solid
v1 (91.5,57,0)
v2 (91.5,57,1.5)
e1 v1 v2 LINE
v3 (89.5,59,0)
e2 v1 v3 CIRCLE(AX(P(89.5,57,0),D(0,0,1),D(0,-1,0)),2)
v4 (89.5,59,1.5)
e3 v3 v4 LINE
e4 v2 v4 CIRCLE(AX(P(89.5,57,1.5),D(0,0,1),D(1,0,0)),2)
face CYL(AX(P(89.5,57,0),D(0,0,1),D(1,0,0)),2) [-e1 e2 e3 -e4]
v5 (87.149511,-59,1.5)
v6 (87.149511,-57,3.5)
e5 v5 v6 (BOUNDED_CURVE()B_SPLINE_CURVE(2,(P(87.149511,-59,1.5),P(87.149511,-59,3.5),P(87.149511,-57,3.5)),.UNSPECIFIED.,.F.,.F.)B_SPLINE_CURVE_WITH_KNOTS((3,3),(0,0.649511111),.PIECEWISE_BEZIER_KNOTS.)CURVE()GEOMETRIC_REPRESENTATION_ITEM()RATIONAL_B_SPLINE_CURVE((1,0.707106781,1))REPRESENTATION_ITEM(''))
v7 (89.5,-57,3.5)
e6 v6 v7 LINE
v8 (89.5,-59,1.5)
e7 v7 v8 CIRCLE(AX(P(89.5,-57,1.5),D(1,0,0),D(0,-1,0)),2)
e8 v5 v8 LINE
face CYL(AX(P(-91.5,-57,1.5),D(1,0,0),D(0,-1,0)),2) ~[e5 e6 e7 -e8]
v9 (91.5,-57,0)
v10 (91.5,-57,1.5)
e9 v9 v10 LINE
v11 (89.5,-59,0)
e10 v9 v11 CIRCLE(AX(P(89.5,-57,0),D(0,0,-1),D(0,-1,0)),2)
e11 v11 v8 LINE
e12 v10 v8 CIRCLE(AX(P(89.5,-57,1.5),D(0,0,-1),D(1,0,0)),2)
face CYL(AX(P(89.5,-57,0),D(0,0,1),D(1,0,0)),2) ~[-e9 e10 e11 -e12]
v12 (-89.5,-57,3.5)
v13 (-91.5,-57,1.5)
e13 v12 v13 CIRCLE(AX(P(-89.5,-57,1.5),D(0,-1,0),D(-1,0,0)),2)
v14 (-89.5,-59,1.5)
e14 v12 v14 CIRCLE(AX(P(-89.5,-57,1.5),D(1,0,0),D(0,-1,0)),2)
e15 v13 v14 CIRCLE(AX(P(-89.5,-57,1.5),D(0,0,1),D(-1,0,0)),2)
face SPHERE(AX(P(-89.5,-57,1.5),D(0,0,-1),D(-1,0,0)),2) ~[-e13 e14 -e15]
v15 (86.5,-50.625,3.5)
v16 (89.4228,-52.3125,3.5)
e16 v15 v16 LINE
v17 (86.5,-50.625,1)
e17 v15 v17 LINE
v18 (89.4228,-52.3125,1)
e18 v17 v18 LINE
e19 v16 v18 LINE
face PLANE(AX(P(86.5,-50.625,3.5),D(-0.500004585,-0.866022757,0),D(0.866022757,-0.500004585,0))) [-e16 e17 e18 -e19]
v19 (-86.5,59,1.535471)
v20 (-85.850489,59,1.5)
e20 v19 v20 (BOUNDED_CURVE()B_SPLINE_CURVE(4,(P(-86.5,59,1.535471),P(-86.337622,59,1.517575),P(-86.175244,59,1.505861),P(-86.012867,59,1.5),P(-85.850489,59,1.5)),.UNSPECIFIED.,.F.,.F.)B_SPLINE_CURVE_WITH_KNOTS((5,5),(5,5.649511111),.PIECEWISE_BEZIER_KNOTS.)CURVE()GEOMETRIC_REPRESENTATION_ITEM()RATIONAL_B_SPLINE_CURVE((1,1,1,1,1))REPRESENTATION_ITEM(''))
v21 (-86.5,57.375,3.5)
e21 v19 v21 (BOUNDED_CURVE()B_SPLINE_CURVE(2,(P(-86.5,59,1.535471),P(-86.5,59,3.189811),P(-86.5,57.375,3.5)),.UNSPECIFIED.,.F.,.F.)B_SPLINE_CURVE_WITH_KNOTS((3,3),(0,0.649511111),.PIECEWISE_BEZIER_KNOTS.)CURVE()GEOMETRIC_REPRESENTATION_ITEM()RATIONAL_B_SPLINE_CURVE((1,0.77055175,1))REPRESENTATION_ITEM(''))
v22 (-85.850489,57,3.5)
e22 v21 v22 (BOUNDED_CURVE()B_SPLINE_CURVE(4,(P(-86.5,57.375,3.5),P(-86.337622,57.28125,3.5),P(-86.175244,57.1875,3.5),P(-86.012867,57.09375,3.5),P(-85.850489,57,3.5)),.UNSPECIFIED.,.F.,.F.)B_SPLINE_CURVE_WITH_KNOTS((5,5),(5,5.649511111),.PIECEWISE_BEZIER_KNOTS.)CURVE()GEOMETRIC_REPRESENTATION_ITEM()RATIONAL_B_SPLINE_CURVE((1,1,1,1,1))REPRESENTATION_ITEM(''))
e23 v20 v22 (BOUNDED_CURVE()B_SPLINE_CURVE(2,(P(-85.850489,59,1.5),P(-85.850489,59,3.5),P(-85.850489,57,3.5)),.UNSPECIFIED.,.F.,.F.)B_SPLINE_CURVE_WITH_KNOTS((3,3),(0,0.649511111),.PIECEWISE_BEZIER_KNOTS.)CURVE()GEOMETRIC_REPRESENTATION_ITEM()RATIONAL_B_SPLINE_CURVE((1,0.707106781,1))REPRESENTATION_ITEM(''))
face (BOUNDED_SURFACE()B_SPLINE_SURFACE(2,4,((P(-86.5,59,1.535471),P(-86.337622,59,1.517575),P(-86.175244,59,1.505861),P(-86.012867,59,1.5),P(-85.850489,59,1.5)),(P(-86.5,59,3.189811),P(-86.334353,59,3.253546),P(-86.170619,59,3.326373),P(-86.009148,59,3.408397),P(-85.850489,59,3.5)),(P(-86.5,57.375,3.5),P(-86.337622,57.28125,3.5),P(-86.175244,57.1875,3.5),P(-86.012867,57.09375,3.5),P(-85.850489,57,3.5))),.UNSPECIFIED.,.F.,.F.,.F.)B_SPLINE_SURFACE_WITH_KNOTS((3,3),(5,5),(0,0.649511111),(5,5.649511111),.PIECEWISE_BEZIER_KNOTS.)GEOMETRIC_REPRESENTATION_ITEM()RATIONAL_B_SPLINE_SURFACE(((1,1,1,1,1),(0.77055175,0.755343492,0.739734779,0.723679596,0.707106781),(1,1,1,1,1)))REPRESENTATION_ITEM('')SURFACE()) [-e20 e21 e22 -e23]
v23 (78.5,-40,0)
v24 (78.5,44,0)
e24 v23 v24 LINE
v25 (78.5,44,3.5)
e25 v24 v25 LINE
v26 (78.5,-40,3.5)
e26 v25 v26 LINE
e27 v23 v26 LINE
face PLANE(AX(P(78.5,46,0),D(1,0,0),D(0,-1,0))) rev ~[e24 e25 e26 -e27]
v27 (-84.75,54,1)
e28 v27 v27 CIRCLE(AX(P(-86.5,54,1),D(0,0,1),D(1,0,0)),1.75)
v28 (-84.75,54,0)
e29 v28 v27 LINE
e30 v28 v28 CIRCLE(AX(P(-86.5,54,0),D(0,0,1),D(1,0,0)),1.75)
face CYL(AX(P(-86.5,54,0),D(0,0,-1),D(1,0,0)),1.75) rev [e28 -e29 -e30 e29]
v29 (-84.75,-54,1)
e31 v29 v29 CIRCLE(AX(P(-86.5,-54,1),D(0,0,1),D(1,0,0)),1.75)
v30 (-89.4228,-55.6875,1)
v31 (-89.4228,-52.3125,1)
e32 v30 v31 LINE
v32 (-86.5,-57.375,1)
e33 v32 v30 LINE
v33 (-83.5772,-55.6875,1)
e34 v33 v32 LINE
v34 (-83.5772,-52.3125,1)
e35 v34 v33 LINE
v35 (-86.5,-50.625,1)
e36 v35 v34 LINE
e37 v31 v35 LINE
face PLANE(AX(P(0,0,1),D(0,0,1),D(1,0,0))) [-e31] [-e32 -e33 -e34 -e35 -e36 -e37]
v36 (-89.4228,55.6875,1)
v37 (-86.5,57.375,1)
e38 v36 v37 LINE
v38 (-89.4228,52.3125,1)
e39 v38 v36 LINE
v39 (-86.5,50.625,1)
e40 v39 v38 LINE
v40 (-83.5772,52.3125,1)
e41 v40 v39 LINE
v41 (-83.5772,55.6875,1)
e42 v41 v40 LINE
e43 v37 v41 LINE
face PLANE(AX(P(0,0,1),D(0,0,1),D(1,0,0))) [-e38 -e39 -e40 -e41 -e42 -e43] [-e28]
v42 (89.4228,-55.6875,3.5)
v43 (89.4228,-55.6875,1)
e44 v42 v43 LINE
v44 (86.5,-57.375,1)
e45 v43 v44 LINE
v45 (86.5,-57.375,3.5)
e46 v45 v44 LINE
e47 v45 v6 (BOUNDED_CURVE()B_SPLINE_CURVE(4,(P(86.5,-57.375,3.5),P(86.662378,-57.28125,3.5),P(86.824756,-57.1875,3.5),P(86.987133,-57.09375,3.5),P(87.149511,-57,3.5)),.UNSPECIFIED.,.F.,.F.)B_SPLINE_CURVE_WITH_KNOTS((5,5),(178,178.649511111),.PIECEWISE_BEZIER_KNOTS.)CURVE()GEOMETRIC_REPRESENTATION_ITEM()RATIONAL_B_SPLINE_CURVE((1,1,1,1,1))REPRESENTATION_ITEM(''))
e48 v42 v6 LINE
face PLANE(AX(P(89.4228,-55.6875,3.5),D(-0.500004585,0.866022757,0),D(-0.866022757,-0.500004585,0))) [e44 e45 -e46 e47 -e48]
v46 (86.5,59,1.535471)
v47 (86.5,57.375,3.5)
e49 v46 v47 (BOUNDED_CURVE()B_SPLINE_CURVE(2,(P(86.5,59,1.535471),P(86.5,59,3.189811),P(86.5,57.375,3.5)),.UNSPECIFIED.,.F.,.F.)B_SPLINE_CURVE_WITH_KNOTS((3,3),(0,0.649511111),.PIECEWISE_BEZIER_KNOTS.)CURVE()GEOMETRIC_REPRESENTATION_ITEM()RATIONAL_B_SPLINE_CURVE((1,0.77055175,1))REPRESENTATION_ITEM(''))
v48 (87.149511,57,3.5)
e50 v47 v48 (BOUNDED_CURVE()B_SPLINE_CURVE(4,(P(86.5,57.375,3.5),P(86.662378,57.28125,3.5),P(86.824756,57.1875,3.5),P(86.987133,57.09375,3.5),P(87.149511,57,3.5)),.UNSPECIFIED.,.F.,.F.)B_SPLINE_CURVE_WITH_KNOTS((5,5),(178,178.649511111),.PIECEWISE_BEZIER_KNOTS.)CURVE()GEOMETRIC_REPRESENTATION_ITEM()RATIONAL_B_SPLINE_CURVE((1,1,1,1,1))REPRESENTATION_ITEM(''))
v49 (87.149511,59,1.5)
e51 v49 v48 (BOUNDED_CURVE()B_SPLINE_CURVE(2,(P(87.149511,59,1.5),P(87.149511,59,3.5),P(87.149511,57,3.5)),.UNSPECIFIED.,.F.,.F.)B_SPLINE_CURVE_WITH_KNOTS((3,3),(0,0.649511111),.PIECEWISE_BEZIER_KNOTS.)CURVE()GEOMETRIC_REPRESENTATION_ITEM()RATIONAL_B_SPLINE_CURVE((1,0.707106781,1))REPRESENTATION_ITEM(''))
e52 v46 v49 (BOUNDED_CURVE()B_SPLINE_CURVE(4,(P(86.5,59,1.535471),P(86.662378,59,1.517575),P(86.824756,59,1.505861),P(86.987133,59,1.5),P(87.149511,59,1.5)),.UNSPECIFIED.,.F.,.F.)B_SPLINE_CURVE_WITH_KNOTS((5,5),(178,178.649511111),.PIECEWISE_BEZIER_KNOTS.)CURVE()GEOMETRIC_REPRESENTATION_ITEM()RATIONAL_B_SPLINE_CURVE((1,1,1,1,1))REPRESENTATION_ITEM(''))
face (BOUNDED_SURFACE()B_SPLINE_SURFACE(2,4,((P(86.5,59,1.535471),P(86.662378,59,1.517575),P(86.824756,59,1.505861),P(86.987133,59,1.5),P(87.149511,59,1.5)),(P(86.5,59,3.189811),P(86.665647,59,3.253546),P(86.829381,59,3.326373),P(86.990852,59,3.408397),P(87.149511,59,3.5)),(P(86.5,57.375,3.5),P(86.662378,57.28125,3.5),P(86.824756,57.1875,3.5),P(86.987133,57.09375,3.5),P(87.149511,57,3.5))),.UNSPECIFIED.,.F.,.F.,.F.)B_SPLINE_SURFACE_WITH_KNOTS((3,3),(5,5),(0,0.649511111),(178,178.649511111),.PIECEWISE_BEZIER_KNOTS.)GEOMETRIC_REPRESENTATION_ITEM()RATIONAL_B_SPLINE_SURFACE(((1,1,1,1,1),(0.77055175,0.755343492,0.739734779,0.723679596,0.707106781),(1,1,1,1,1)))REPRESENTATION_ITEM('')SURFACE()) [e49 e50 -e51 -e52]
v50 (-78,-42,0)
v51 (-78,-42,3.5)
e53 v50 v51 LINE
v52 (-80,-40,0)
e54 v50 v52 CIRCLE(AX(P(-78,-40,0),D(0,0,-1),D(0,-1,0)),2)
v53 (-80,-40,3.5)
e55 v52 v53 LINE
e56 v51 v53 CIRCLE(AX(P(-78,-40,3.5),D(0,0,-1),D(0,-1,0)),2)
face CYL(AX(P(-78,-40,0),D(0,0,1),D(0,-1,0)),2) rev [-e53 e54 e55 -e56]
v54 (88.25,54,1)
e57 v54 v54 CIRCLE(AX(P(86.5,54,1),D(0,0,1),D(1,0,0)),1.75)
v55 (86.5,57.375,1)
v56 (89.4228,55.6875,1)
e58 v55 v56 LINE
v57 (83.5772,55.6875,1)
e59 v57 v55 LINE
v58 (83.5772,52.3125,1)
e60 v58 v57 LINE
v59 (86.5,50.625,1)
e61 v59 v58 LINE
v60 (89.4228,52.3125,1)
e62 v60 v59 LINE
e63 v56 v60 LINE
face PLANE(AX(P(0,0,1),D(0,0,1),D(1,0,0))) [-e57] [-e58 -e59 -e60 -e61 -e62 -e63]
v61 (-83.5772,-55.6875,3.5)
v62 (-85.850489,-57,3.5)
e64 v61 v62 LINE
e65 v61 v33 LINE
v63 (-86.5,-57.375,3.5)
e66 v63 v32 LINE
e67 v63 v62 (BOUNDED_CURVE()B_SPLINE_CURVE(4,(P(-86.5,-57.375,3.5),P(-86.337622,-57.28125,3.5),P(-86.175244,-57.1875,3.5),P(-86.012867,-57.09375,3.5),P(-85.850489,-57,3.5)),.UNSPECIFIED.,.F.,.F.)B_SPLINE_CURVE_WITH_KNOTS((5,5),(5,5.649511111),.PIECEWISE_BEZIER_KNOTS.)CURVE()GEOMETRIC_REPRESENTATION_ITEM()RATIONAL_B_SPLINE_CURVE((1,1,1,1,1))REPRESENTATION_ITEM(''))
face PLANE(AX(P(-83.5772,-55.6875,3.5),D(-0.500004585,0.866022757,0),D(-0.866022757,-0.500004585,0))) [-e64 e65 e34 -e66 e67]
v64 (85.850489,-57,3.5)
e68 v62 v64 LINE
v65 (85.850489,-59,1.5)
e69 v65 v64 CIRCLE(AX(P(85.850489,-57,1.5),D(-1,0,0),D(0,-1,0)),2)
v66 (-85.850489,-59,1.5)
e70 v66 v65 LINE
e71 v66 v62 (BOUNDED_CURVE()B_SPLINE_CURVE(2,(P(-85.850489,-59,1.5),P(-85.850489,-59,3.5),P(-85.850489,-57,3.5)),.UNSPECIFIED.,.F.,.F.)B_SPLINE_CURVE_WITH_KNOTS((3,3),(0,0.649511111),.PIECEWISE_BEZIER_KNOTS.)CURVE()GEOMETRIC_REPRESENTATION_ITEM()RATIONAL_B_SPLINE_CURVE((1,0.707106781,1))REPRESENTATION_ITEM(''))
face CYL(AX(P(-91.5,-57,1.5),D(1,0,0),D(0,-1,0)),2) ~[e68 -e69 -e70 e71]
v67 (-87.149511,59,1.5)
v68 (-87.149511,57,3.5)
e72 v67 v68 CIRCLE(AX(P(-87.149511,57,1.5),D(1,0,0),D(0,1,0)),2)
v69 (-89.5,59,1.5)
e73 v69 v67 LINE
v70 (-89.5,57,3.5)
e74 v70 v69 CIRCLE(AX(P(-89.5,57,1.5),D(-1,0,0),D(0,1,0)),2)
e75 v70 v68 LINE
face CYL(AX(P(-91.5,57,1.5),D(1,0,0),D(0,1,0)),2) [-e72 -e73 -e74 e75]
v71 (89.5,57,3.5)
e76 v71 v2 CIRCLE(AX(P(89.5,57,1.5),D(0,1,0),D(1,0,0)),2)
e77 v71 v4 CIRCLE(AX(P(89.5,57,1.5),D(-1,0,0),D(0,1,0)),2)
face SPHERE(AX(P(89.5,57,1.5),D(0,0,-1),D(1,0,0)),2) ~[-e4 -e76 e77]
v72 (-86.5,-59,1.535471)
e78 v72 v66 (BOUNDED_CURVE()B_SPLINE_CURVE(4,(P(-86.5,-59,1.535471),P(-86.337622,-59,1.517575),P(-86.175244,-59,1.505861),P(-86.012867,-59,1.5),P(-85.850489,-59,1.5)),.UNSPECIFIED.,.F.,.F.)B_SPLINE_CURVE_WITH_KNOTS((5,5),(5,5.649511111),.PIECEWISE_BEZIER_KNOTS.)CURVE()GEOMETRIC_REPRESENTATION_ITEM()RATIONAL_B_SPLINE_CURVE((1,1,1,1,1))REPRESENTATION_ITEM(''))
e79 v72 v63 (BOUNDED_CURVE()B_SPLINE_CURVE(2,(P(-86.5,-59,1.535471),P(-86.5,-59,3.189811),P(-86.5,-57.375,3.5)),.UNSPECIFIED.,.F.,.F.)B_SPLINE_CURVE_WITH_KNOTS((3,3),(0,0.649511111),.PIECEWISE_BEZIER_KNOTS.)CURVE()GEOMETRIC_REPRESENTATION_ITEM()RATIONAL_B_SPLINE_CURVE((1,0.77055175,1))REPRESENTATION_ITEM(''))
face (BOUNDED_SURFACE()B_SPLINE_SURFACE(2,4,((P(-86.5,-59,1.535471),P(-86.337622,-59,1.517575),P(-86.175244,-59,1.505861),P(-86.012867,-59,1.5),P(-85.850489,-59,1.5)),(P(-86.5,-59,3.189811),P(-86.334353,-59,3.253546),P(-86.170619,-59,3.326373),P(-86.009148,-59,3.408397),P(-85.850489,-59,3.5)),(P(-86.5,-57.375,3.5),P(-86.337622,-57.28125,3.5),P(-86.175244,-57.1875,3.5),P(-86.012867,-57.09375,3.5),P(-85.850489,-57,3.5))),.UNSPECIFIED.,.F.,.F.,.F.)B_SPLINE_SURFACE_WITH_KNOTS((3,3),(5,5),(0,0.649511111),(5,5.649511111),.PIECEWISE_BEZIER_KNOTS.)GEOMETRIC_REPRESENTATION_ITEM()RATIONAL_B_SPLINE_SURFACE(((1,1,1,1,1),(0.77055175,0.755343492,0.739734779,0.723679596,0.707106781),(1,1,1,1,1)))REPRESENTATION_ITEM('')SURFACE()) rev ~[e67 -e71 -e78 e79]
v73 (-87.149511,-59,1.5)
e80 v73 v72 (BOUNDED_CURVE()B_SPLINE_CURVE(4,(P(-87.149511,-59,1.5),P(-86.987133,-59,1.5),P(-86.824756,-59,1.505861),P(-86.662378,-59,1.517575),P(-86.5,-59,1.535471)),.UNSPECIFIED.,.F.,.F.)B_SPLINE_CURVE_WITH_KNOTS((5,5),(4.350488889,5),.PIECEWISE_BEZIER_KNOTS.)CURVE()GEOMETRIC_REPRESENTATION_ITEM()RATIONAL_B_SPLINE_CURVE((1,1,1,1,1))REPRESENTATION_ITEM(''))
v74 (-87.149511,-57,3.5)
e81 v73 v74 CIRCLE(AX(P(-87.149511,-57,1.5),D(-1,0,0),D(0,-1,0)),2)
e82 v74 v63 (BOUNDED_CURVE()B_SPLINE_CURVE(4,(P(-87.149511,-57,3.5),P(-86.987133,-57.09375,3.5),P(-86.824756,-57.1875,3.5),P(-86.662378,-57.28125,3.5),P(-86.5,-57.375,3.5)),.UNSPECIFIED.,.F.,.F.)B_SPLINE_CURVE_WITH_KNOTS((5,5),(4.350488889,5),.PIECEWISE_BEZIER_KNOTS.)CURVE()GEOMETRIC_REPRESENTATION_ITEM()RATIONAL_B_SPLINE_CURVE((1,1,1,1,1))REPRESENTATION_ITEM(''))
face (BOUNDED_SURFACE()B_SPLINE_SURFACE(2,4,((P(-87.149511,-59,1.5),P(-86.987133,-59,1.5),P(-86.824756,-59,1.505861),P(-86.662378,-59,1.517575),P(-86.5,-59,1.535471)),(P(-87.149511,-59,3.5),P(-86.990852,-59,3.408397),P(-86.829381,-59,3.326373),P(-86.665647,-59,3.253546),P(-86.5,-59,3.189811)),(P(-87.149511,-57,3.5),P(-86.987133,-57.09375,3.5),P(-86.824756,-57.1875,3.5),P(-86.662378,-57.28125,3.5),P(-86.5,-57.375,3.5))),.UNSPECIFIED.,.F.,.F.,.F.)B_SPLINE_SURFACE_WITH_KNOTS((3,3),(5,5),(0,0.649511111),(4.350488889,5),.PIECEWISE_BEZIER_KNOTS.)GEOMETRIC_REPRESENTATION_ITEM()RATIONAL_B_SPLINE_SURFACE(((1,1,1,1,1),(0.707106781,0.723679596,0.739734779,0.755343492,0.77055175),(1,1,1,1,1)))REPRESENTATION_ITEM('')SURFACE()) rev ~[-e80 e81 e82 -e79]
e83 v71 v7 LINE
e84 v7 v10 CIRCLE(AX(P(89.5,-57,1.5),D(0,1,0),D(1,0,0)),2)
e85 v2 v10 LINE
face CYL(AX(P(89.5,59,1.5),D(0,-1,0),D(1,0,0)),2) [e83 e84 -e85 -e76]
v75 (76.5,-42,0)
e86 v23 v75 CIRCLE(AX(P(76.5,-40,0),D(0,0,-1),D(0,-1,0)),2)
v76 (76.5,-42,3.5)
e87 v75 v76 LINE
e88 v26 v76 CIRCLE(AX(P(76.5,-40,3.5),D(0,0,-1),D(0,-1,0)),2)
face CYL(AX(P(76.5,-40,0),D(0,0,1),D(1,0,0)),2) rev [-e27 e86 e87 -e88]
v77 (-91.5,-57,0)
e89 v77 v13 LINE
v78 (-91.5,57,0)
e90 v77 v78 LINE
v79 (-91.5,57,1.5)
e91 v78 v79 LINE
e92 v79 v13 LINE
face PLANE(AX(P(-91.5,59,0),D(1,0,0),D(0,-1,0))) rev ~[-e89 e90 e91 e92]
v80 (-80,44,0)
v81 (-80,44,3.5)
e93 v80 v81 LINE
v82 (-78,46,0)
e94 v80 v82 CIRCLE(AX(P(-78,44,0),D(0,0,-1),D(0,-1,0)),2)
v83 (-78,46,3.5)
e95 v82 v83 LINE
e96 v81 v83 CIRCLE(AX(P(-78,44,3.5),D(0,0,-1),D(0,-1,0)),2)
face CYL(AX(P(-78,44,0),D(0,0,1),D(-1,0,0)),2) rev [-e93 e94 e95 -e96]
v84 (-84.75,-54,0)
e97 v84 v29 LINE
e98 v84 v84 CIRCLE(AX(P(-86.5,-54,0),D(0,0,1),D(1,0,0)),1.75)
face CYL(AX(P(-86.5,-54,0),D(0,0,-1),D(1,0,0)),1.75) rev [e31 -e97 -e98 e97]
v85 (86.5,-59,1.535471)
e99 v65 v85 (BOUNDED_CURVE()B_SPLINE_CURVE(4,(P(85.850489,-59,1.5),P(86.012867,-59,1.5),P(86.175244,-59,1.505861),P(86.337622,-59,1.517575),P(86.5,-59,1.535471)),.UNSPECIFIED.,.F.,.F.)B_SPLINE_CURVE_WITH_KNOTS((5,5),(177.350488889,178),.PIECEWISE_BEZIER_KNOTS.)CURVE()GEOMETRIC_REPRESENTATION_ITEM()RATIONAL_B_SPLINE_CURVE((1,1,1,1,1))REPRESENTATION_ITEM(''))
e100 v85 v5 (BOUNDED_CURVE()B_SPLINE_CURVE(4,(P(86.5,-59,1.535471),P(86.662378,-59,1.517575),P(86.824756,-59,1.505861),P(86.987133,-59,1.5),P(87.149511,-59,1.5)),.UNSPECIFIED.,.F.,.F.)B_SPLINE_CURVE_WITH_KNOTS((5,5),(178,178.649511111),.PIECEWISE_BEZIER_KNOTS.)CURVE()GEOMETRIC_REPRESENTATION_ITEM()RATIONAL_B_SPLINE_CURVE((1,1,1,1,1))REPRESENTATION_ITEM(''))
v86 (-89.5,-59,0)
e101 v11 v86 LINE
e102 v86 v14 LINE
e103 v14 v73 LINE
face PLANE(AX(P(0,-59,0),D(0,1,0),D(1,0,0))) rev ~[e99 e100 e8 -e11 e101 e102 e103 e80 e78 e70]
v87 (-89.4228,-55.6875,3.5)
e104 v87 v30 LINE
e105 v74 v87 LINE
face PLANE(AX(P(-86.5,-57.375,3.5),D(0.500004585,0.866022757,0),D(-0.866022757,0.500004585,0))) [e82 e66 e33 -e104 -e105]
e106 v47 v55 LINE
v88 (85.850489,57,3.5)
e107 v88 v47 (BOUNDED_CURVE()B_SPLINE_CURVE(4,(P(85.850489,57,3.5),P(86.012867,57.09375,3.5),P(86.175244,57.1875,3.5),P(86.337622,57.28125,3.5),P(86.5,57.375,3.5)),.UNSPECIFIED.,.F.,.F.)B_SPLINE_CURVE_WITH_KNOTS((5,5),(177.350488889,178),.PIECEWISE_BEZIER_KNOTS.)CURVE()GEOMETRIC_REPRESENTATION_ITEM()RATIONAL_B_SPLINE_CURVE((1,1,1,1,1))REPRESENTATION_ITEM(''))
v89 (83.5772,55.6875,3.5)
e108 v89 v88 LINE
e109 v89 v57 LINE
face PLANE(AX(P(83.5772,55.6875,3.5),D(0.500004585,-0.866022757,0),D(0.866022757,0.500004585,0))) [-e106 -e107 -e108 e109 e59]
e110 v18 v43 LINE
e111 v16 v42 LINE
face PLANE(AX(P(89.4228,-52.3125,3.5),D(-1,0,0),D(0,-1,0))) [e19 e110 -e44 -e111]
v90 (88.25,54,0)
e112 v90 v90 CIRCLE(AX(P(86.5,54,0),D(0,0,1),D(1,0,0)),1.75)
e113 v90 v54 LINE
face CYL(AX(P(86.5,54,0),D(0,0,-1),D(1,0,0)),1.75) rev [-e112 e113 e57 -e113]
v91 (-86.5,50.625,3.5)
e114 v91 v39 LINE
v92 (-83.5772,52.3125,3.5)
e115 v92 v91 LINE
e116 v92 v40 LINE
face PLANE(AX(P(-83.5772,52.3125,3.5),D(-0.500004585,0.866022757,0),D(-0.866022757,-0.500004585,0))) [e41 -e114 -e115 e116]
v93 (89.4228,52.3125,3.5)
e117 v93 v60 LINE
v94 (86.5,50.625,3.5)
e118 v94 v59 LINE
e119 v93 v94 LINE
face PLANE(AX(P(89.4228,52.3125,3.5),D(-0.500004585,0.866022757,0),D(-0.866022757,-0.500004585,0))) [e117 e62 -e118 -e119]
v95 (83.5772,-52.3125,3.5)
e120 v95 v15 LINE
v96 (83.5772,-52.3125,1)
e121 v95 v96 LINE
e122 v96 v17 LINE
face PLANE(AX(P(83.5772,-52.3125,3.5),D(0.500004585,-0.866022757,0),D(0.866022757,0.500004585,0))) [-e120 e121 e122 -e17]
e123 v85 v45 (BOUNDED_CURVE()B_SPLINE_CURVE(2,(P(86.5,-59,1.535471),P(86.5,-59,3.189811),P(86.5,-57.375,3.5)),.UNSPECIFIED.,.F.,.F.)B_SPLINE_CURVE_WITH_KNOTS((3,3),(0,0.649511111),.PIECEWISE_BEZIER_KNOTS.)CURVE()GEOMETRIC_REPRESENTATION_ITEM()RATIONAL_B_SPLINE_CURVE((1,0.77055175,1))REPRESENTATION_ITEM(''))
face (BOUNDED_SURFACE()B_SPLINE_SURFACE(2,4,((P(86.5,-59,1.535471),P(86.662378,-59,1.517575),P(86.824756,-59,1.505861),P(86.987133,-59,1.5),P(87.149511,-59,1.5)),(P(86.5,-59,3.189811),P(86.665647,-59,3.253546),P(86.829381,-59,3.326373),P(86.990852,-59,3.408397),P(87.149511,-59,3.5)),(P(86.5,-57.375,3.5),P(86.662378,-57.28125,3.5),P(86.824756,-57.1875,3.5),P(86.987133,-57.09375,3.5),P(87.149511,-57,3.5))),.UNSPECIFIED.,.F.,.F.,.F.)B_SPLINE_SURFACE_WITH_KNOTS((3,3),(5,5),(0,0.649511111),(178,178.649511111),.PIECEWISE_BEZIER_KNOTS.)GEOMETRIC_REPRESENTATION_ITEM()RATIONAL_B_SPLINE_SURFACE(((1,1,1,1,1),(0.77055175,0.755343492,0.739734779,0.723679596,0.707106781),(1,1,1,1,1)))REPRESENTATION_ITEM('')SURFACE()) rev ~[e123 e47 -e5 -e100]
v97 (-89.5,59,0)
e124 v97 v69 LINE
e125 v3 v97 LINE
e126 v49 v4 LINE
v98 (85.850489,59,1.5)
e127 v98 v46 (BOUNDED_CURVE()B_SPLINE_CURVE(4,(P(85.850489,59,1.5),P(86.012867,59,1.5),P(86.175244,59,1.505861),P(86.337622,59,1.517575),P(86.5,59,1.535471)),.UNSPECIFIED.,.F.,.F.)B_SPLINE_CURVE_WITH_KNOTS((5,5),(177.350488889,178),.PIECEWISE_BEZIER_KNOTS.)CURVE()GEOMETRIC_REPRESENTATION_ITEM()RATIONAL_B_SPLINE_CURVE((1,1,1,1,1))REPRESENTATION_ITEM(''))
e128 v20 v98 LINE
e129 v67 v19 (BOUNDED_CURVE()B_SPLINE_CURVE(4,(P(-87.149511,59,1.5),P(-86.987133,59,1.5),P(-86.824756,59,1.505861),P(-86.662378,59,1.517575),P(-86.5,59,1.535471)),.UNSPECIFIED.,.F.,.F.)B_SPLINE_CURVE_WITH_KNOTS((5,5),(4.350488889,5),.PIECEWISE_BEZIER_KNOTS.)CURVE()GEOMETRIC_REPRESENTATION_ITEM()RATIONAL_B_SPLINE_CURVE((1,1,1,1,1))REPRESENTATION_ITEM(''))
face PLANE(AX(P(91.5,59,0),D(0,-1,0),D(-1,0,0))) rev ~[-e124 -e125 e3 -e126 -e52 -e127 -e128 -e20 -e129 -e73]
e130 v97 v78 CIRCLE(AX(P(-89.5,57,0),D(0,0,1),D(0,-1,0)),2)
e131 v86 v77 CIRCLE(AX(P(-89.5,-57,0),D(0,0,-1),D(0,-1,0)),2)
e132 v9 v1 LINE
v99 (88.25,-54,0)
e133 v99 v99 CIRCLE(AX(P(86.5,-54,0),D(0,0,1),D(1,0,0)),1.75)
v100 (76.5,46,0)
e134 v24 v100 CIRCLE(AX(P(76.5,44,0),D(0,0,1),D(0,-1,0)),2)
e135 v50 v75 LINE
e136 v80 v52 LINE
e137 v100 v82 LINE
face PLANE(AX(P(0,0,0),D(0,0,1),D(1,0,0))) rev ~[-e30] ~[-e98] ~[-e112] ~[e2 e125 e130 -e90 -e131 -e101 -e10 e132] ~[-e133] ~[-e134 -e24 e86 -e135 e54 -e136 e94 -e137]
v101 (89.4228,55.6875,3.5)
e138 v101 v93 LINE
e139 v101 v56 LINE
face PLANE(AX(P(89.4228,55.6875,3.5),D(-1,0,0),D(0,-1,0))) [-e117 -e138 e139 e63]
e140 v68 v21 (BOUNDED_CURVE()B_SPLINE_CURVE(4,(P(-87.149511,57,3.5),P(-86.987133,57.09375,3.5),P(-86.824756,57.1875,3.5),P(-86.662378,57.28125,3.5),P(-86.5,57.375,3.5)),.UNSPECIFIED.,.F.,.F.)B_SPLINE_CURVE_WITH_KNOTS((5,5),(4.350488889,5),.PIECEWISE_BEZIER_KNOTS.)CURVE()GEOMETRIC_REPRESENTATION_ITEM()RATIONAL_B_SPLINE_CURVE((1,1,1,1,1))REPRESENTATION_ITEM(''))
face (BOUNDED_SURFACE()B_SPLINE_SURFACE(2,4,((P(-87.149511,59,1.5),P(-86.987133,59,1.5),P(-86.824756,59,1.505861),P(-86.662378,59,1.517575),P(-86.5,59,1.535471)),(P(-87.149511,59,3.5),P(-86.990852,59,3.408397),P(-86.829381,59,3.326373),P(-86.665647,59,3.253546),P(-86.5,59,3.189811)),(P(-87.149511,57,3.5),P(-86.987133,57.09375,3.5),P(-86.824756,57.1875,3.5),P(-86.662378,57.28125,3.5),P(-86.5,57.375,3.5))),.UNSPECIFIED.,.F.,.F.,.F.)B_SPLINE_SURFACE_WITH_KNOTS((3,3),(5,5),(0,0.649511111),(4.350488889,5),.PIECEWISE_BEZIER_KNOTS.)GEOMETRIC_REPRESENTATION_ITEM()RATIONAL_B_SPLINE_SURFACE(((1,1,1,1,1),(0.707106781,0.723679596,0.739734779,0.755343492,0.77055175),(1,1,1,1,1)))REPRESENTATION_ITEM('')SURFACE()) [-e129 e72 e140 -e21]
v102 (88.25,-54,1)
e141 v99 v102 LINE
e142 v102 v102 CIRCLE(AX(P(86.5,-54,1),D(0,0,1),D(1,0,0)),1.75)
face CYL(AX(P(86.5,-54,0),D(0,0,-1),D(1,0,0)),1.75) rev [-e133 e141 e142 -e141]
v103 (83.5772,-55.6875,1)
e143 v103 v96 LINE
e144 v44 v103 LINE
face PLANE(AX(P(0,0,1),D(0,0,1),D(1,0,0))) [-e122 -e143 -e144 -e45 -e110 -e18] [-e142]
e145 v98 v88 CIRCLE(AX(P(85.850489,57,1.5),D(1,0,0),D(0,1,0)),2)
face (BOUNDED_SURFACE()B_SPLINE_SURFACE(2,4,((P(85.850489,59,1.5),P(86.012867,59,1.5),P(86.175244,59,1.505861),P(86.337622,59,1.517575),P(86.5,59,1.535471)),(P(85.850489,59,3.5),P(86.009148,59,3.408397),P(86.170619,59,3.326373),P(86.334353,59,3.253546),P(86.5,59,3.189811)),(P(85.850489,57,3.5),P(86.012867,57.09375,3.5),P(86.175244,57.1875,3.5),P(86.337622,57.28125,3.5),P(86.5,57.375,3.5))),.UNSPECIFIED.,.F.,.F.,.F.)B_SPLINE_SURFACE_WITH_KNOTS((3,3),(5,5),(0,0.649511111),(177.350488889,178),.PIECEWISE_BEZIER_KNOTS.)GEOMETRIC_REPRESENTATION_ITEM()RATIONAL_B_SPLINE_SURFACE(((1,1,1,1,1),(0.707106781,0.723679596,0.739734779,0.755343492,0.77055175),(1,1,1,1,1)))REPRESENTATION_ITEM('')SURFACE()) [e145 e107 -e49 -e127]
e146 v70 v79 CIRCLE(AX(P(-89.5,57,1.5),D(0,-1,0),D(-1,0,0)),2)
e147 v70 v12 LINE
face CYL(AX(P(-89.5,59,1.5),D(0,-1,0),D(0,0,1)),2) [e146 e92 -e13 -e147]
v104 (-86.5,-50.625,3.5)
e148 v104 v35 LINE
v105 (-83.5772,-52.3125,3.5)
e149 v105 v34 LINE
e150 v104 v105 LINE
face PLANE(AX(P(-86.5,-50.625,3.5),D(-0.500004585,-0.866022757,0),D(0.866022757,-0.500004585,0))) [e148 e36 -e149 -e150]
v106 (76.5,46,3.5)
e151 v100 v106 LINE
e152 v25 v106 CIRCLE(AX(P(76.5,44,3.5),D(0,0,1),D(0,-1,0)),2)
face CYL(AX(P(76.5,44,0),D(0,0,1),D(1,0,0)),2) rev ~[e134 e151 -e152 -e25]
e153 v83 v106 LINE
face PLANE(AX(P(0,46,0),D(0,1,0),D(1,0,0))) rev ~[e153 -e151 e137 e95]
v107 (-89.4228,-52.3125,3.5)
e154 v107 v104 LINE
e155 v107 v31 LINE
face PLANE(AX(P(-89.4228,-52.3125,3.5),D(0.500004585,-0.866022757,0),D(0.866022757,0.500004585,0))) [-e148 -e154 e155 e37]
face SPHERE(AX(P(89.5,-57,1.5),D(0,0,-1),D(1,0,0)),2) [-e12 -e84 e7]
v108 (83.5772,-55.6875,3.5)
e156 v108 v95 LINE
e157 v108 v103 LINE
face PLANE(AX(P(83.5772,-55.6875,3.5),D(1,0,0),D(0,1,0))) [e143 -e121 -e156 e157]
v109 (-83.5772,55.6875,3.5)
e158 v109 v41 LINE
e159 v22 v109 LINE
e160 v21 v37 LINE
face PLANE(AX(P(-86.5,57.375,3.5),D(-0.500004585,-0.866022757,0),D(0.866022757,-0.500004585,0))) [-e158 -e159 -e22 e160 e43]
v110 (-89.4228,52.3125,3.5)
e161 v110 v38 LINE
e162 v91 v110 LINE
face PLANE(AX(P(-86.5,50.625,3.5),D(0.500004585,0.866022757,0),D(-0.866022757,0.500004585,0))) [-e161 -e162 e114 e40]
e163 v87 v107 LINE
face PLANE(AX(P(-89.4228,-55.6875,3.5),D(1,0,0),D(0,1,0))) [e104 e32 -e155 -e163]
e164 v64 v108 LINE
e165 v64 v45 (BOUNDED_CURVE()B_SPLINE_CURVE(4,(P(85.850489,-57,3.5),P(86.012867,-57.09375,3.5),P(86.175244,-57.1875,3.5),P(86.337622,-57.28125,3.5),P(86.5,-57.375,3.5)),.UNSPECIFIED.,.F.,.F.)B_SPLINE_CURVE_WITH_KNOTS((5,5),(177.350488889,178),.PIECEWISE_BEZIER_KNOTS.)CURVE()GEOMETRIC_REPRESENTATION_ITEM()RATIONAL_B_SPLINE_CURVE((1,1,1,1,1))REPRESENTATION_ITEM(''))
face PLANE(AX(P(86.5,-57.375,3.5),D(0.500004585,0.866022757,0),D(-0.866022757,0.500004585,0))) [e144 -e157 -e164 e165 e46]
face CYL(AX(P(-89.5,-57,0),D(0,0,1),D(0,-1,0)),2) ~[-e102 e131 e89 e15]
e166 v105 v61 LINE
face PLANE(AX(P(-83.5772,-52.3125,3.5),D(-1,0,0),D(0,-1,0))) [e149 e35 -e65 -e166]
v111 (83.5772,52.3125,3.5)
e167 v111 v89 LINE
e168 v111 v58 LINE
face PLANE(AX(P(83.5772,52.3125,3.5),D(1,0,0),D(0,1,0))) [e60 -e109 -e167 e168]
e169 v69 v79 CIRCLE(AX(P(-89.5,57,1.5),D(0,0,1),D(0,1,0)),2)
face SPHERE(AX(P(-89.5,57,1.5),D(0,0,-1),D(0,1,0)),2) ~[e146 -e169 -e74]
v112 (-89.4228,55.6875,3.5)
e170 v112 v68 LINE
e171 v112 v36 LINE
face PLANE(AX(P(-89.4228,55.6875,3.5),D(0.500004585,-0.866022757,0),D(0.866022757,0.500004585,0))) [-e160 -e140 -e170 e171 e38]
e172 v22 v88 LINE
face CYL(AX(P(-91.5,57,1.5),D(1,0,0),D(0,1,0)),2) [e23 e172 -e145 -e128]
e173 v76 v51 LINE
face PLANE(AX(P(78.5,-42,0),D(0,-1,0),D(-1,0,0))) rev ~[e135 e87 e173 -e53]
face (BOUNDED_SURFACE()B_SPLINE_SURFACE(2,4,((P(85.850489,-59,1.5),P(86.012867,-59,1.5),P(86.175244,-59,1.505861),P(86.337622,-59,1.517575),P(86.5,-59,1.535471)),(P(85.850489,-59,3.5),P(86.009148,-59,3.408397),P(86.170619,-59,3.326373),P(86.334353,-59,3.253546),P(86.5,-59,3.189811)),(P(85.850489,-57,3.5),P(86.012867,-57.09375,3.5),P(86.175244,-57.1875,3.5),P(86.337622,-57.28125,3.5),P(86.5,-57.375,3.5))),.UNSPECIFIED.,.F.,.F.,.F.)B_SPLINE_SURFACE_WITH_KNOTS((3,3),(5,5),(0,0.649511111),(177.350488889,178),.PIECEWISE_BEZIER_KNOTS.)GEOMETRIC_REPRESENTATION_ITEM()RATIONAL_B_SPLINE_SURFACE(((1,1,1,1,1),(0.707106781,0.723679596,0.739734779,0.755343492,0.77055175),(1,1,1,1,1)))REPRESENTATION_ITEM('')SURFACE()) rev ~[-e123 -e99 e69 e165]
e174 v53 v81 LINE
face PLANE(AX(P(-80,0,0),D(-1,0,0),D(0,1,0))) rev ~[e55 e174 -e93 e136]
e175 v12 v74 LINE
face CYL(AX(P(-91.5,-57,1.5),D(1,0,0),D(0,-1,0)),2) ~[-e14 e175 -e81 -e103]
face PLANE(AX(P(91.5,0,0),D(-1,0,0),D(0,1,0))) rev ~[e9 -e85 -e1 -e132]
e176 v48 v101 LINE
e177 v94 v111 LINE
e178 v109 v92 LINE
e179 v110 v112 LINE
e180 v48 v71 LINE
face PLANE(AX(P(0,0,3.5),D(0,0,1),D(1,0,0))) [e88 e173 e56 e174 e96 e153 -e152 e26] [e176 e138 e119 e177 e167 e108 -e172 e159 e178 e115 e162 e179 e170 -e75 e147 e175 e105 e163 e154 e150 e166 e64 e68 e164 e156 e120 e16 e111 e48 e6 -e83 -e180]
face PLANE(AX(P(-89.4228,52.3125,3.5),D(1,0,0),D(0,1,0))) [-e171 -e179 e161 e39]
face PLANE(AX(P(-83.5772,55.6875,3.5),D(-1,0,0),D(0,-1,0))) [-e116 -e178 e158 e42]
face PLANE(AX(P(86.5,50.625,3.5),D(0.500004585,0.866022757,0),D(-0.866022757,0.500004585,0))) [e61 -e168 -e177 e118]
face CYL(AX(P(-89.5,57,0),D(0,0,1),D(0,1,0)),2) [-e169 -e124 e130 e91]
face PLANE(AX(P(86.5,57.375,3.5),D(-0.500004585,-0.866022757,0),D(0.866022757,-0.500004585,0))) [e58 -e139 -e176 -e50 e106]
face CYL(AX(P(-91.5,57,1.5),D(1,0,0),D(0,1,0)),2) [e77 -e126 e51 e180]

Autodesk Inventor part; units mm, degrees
ref_plane "YZ Plane" through (0, 0, 0) normal (1, 0, 0) x (0, 1, 0)
ref_plane "XZ Plane" through (0, 0, 0) normal (0, 1, 0) x (-1, 0, 0)
ref_plane "XY Plane" through (0, 0, 0) normal (0, 0, 1) x (1, 0, 0)
sketch "Sketch1" plane through (0, 0, 0) normal (0, 0, 1) x (1, 0, 0)
  circle A0 centre (86.5, 54) radius 1.75
  circle A1 centre (-86.5, 54) radius 1.75
  circle A2 centre (86.5, -54) radius 1.75
  circle A3 centre (-86.5, -54) radius 1.75
  line L0 (91.5, 59) -> (-91.5, 59)
  line L1 (-91.5, 59) -> (-91.5, -59)
  line L2 (-91.5, -59) -> (91.5, -59)
  line L3 (91.5, -59) -> (91.5, 59)
  line L4 (78.5, -42) -> (-80, -42)
  circle A4 centre (86.5, 54) radius 1.75
  circle A5 centre (-86.5, 54) radius 1.75
  circle A6 centre (86.5, -54) radius 1.75
  circle A7 centre (-86.5, -54) radius 1.75
  line L5 (91.5, 59) -> (-91.5, 59)
  line L6 (-91.5, 59) -> (-91.5, -59)
  line L7 (-91.5, -59) -> (91.5, -59)
  line L8 (91.5, -59) -> (91.5, 59)
  line L9 (78.5, 46) -> (78.5, -42)
  line L10 (-80, -42) -> (-80, 46)
  line L11 (-128.1, 0) -> (128.1, 0) projected
  line L12 (0, -82.95) -> (0, 84.7) projected
  line L13 (-80, 46) -> (78.5, 46)
  line L14 (84.25, 60.75) -> (84.25, 59)
  line L15 (78.5, 46) -> (78.5, -42)
  line L16 (-80, -42) -> (-80, 46)
  line L17 (-84.25, 59) -> (-84.25, 60.75)
  point P0 (0, 0)
  point P1 (0, 0)
  point P2 (0, 0)
  dimension "d0" = 183
  dimension "d1" = 118
  dimension "d2" = 3.5
  dimension "d3" = 17
  dimension "d4" = 13
  dimension "d5" = 13
  dimension "d6" = 11.5
extrude "Extrusion1" add sketch "Sketch1" along normal blind 3.5 contours L3 L11 L9 L13 L12 L0 | L3 L2 L12 L4 L9 L11 | L12 L13 L10 L11 L1 L0 | L2 L1 L11 L10 L4 L12
sketch "Sketch2" plane through (0, 0, 3.5) normal (0, 0, 1) x (1, 0, 0)
  line L0 (-80, 46) -> (78.5, 46) projected
  line L1 (78.5, 46) -> (78.5, -42) projected
  line L2 (78.5, -42) -> (-80, -42) projected
  line L3 (-80, -42) -> (-80, 46) projected
  circle A0 centre (-86.5, -54) radius 1.75 projected
  circle A1 centre (86.5, -54) radius 1.75 projected
  circle A2 centre (-86.5, 54) radius 1.75 projected
  circle A3 centre (86.5, 54) radius 1.75 projected
  line L4 (91.5, 59) -> (-91.5, 59) projected
  line L5 (-91.5, 59) -> (-91.5, -59) projected
  line L6 (-91.5, -59) -> (91.5, -59) projected
  line L7 (91.5, -59) -> (91.5, 59) projected
  circle A4 centre (86.5, 54) radius 1.75
  circle A5 centre (86.5, 54) radius 1.75
  line L8 (83.5772, 55.6875) -> (86.5, 57.375)
  line L9 (86.5, 57.375) -> (89.4228, 55.6875)
  line L10 (89.4228, 55.6875) -> (89.4228, 52.3125)
  line L11 (89.4228, 52.3125) -> (86.5, 50.625)
  line L12 (86.5, 50.625) -> (83.5772, 52.3125)
  line L13 (83.5772, 52.3125) -> (83.5772, 55.6875)
  circle A6 centre (86.5, 54) radius 3.375 construction
  line L14 (-89.4228, 52.3125) -> (-89.4228, 55.6875)
  line L15 (-89.4228, 55.6875) -> (-86.5, 57.375)
  line L16 (-86.5, 57.375) -> (-83.5772, 55.6875)
  line L17 (-83.5772, 55.6875) -> (-83.5772, 52.3125)
  line L18 (-83.5772, 52.3125) -> (-86.5, 50.625)
  line L19 (-86.5, 50.625) -> (-89.4228, 52.3125)
  line L20 (-86.5, -57.375) -> (-89.4228, -55.6875)
  line L21 (-89.4228, -55.6875) -> (-89.4228, -52.3125)
  line L22 (-89.4228, -52.3125) -> (-86.5, -50.625)
  line L23 (-86.5, -50.625) -> (-83.5772, -52.3125)
  line L24 (-83.5772, -52.3125) -> (-83.5772, -55.6875)
  line L25 (-83.5772, -55.6875) -> (-86.5, -57.375)
  line L26 (83.5772, -55.6875) -> (83.5772, -52.3125)
  line L27 (83.5772, -52.3125) -> (86.5, -50.625)
  line L28 (86.5, -50.625) -> (89.4228, -52.3125)
  line L29 (89.4228, -52.3125) -> (89.4228, -55.6875)
  line L30 (89.4228, -55.6875) -> (86.5, -57.375)
  line L31 (86.5, -57.375) -> (83.5772, -55.6875)
  point P0 (0, 0)
  point P1 (89.4228, 54)
  point P2 (-83.5772, 54)
  point P3 (-83.5772, -54)
  point P4 (89.4228, -54)
  dimension "d9" = 6.75
  dimension "d12" = 173
  dimension "d19" = 108
extrude "Extrusion3" cut sketch "Sketch2" against normal blind 2.5 contours L8 L9 L10 L11 L12 L13 | L14 L15 L16 L17 L18 L19 | L20 L21 L22 L23 L24 L25 | L26 L27 L28 L29 L30 L31
fillet "Fillet1" radius 2 12 edges at (-91.5, -59, 1.75) (91.5, -59, 1.75) (-91.5, 59, 1.75) (91.5, 59, 1.75) (91.5, 0, 3.5) (0, 59, 3.5) (-91.5, 0, 3.5) (0, -59, 3.5) (-80, 46, 1.75) (78.5, 46, 1.75) (78.5, -42, 1.75) (-80, -42, 1.75)
properties part number "tapa"
